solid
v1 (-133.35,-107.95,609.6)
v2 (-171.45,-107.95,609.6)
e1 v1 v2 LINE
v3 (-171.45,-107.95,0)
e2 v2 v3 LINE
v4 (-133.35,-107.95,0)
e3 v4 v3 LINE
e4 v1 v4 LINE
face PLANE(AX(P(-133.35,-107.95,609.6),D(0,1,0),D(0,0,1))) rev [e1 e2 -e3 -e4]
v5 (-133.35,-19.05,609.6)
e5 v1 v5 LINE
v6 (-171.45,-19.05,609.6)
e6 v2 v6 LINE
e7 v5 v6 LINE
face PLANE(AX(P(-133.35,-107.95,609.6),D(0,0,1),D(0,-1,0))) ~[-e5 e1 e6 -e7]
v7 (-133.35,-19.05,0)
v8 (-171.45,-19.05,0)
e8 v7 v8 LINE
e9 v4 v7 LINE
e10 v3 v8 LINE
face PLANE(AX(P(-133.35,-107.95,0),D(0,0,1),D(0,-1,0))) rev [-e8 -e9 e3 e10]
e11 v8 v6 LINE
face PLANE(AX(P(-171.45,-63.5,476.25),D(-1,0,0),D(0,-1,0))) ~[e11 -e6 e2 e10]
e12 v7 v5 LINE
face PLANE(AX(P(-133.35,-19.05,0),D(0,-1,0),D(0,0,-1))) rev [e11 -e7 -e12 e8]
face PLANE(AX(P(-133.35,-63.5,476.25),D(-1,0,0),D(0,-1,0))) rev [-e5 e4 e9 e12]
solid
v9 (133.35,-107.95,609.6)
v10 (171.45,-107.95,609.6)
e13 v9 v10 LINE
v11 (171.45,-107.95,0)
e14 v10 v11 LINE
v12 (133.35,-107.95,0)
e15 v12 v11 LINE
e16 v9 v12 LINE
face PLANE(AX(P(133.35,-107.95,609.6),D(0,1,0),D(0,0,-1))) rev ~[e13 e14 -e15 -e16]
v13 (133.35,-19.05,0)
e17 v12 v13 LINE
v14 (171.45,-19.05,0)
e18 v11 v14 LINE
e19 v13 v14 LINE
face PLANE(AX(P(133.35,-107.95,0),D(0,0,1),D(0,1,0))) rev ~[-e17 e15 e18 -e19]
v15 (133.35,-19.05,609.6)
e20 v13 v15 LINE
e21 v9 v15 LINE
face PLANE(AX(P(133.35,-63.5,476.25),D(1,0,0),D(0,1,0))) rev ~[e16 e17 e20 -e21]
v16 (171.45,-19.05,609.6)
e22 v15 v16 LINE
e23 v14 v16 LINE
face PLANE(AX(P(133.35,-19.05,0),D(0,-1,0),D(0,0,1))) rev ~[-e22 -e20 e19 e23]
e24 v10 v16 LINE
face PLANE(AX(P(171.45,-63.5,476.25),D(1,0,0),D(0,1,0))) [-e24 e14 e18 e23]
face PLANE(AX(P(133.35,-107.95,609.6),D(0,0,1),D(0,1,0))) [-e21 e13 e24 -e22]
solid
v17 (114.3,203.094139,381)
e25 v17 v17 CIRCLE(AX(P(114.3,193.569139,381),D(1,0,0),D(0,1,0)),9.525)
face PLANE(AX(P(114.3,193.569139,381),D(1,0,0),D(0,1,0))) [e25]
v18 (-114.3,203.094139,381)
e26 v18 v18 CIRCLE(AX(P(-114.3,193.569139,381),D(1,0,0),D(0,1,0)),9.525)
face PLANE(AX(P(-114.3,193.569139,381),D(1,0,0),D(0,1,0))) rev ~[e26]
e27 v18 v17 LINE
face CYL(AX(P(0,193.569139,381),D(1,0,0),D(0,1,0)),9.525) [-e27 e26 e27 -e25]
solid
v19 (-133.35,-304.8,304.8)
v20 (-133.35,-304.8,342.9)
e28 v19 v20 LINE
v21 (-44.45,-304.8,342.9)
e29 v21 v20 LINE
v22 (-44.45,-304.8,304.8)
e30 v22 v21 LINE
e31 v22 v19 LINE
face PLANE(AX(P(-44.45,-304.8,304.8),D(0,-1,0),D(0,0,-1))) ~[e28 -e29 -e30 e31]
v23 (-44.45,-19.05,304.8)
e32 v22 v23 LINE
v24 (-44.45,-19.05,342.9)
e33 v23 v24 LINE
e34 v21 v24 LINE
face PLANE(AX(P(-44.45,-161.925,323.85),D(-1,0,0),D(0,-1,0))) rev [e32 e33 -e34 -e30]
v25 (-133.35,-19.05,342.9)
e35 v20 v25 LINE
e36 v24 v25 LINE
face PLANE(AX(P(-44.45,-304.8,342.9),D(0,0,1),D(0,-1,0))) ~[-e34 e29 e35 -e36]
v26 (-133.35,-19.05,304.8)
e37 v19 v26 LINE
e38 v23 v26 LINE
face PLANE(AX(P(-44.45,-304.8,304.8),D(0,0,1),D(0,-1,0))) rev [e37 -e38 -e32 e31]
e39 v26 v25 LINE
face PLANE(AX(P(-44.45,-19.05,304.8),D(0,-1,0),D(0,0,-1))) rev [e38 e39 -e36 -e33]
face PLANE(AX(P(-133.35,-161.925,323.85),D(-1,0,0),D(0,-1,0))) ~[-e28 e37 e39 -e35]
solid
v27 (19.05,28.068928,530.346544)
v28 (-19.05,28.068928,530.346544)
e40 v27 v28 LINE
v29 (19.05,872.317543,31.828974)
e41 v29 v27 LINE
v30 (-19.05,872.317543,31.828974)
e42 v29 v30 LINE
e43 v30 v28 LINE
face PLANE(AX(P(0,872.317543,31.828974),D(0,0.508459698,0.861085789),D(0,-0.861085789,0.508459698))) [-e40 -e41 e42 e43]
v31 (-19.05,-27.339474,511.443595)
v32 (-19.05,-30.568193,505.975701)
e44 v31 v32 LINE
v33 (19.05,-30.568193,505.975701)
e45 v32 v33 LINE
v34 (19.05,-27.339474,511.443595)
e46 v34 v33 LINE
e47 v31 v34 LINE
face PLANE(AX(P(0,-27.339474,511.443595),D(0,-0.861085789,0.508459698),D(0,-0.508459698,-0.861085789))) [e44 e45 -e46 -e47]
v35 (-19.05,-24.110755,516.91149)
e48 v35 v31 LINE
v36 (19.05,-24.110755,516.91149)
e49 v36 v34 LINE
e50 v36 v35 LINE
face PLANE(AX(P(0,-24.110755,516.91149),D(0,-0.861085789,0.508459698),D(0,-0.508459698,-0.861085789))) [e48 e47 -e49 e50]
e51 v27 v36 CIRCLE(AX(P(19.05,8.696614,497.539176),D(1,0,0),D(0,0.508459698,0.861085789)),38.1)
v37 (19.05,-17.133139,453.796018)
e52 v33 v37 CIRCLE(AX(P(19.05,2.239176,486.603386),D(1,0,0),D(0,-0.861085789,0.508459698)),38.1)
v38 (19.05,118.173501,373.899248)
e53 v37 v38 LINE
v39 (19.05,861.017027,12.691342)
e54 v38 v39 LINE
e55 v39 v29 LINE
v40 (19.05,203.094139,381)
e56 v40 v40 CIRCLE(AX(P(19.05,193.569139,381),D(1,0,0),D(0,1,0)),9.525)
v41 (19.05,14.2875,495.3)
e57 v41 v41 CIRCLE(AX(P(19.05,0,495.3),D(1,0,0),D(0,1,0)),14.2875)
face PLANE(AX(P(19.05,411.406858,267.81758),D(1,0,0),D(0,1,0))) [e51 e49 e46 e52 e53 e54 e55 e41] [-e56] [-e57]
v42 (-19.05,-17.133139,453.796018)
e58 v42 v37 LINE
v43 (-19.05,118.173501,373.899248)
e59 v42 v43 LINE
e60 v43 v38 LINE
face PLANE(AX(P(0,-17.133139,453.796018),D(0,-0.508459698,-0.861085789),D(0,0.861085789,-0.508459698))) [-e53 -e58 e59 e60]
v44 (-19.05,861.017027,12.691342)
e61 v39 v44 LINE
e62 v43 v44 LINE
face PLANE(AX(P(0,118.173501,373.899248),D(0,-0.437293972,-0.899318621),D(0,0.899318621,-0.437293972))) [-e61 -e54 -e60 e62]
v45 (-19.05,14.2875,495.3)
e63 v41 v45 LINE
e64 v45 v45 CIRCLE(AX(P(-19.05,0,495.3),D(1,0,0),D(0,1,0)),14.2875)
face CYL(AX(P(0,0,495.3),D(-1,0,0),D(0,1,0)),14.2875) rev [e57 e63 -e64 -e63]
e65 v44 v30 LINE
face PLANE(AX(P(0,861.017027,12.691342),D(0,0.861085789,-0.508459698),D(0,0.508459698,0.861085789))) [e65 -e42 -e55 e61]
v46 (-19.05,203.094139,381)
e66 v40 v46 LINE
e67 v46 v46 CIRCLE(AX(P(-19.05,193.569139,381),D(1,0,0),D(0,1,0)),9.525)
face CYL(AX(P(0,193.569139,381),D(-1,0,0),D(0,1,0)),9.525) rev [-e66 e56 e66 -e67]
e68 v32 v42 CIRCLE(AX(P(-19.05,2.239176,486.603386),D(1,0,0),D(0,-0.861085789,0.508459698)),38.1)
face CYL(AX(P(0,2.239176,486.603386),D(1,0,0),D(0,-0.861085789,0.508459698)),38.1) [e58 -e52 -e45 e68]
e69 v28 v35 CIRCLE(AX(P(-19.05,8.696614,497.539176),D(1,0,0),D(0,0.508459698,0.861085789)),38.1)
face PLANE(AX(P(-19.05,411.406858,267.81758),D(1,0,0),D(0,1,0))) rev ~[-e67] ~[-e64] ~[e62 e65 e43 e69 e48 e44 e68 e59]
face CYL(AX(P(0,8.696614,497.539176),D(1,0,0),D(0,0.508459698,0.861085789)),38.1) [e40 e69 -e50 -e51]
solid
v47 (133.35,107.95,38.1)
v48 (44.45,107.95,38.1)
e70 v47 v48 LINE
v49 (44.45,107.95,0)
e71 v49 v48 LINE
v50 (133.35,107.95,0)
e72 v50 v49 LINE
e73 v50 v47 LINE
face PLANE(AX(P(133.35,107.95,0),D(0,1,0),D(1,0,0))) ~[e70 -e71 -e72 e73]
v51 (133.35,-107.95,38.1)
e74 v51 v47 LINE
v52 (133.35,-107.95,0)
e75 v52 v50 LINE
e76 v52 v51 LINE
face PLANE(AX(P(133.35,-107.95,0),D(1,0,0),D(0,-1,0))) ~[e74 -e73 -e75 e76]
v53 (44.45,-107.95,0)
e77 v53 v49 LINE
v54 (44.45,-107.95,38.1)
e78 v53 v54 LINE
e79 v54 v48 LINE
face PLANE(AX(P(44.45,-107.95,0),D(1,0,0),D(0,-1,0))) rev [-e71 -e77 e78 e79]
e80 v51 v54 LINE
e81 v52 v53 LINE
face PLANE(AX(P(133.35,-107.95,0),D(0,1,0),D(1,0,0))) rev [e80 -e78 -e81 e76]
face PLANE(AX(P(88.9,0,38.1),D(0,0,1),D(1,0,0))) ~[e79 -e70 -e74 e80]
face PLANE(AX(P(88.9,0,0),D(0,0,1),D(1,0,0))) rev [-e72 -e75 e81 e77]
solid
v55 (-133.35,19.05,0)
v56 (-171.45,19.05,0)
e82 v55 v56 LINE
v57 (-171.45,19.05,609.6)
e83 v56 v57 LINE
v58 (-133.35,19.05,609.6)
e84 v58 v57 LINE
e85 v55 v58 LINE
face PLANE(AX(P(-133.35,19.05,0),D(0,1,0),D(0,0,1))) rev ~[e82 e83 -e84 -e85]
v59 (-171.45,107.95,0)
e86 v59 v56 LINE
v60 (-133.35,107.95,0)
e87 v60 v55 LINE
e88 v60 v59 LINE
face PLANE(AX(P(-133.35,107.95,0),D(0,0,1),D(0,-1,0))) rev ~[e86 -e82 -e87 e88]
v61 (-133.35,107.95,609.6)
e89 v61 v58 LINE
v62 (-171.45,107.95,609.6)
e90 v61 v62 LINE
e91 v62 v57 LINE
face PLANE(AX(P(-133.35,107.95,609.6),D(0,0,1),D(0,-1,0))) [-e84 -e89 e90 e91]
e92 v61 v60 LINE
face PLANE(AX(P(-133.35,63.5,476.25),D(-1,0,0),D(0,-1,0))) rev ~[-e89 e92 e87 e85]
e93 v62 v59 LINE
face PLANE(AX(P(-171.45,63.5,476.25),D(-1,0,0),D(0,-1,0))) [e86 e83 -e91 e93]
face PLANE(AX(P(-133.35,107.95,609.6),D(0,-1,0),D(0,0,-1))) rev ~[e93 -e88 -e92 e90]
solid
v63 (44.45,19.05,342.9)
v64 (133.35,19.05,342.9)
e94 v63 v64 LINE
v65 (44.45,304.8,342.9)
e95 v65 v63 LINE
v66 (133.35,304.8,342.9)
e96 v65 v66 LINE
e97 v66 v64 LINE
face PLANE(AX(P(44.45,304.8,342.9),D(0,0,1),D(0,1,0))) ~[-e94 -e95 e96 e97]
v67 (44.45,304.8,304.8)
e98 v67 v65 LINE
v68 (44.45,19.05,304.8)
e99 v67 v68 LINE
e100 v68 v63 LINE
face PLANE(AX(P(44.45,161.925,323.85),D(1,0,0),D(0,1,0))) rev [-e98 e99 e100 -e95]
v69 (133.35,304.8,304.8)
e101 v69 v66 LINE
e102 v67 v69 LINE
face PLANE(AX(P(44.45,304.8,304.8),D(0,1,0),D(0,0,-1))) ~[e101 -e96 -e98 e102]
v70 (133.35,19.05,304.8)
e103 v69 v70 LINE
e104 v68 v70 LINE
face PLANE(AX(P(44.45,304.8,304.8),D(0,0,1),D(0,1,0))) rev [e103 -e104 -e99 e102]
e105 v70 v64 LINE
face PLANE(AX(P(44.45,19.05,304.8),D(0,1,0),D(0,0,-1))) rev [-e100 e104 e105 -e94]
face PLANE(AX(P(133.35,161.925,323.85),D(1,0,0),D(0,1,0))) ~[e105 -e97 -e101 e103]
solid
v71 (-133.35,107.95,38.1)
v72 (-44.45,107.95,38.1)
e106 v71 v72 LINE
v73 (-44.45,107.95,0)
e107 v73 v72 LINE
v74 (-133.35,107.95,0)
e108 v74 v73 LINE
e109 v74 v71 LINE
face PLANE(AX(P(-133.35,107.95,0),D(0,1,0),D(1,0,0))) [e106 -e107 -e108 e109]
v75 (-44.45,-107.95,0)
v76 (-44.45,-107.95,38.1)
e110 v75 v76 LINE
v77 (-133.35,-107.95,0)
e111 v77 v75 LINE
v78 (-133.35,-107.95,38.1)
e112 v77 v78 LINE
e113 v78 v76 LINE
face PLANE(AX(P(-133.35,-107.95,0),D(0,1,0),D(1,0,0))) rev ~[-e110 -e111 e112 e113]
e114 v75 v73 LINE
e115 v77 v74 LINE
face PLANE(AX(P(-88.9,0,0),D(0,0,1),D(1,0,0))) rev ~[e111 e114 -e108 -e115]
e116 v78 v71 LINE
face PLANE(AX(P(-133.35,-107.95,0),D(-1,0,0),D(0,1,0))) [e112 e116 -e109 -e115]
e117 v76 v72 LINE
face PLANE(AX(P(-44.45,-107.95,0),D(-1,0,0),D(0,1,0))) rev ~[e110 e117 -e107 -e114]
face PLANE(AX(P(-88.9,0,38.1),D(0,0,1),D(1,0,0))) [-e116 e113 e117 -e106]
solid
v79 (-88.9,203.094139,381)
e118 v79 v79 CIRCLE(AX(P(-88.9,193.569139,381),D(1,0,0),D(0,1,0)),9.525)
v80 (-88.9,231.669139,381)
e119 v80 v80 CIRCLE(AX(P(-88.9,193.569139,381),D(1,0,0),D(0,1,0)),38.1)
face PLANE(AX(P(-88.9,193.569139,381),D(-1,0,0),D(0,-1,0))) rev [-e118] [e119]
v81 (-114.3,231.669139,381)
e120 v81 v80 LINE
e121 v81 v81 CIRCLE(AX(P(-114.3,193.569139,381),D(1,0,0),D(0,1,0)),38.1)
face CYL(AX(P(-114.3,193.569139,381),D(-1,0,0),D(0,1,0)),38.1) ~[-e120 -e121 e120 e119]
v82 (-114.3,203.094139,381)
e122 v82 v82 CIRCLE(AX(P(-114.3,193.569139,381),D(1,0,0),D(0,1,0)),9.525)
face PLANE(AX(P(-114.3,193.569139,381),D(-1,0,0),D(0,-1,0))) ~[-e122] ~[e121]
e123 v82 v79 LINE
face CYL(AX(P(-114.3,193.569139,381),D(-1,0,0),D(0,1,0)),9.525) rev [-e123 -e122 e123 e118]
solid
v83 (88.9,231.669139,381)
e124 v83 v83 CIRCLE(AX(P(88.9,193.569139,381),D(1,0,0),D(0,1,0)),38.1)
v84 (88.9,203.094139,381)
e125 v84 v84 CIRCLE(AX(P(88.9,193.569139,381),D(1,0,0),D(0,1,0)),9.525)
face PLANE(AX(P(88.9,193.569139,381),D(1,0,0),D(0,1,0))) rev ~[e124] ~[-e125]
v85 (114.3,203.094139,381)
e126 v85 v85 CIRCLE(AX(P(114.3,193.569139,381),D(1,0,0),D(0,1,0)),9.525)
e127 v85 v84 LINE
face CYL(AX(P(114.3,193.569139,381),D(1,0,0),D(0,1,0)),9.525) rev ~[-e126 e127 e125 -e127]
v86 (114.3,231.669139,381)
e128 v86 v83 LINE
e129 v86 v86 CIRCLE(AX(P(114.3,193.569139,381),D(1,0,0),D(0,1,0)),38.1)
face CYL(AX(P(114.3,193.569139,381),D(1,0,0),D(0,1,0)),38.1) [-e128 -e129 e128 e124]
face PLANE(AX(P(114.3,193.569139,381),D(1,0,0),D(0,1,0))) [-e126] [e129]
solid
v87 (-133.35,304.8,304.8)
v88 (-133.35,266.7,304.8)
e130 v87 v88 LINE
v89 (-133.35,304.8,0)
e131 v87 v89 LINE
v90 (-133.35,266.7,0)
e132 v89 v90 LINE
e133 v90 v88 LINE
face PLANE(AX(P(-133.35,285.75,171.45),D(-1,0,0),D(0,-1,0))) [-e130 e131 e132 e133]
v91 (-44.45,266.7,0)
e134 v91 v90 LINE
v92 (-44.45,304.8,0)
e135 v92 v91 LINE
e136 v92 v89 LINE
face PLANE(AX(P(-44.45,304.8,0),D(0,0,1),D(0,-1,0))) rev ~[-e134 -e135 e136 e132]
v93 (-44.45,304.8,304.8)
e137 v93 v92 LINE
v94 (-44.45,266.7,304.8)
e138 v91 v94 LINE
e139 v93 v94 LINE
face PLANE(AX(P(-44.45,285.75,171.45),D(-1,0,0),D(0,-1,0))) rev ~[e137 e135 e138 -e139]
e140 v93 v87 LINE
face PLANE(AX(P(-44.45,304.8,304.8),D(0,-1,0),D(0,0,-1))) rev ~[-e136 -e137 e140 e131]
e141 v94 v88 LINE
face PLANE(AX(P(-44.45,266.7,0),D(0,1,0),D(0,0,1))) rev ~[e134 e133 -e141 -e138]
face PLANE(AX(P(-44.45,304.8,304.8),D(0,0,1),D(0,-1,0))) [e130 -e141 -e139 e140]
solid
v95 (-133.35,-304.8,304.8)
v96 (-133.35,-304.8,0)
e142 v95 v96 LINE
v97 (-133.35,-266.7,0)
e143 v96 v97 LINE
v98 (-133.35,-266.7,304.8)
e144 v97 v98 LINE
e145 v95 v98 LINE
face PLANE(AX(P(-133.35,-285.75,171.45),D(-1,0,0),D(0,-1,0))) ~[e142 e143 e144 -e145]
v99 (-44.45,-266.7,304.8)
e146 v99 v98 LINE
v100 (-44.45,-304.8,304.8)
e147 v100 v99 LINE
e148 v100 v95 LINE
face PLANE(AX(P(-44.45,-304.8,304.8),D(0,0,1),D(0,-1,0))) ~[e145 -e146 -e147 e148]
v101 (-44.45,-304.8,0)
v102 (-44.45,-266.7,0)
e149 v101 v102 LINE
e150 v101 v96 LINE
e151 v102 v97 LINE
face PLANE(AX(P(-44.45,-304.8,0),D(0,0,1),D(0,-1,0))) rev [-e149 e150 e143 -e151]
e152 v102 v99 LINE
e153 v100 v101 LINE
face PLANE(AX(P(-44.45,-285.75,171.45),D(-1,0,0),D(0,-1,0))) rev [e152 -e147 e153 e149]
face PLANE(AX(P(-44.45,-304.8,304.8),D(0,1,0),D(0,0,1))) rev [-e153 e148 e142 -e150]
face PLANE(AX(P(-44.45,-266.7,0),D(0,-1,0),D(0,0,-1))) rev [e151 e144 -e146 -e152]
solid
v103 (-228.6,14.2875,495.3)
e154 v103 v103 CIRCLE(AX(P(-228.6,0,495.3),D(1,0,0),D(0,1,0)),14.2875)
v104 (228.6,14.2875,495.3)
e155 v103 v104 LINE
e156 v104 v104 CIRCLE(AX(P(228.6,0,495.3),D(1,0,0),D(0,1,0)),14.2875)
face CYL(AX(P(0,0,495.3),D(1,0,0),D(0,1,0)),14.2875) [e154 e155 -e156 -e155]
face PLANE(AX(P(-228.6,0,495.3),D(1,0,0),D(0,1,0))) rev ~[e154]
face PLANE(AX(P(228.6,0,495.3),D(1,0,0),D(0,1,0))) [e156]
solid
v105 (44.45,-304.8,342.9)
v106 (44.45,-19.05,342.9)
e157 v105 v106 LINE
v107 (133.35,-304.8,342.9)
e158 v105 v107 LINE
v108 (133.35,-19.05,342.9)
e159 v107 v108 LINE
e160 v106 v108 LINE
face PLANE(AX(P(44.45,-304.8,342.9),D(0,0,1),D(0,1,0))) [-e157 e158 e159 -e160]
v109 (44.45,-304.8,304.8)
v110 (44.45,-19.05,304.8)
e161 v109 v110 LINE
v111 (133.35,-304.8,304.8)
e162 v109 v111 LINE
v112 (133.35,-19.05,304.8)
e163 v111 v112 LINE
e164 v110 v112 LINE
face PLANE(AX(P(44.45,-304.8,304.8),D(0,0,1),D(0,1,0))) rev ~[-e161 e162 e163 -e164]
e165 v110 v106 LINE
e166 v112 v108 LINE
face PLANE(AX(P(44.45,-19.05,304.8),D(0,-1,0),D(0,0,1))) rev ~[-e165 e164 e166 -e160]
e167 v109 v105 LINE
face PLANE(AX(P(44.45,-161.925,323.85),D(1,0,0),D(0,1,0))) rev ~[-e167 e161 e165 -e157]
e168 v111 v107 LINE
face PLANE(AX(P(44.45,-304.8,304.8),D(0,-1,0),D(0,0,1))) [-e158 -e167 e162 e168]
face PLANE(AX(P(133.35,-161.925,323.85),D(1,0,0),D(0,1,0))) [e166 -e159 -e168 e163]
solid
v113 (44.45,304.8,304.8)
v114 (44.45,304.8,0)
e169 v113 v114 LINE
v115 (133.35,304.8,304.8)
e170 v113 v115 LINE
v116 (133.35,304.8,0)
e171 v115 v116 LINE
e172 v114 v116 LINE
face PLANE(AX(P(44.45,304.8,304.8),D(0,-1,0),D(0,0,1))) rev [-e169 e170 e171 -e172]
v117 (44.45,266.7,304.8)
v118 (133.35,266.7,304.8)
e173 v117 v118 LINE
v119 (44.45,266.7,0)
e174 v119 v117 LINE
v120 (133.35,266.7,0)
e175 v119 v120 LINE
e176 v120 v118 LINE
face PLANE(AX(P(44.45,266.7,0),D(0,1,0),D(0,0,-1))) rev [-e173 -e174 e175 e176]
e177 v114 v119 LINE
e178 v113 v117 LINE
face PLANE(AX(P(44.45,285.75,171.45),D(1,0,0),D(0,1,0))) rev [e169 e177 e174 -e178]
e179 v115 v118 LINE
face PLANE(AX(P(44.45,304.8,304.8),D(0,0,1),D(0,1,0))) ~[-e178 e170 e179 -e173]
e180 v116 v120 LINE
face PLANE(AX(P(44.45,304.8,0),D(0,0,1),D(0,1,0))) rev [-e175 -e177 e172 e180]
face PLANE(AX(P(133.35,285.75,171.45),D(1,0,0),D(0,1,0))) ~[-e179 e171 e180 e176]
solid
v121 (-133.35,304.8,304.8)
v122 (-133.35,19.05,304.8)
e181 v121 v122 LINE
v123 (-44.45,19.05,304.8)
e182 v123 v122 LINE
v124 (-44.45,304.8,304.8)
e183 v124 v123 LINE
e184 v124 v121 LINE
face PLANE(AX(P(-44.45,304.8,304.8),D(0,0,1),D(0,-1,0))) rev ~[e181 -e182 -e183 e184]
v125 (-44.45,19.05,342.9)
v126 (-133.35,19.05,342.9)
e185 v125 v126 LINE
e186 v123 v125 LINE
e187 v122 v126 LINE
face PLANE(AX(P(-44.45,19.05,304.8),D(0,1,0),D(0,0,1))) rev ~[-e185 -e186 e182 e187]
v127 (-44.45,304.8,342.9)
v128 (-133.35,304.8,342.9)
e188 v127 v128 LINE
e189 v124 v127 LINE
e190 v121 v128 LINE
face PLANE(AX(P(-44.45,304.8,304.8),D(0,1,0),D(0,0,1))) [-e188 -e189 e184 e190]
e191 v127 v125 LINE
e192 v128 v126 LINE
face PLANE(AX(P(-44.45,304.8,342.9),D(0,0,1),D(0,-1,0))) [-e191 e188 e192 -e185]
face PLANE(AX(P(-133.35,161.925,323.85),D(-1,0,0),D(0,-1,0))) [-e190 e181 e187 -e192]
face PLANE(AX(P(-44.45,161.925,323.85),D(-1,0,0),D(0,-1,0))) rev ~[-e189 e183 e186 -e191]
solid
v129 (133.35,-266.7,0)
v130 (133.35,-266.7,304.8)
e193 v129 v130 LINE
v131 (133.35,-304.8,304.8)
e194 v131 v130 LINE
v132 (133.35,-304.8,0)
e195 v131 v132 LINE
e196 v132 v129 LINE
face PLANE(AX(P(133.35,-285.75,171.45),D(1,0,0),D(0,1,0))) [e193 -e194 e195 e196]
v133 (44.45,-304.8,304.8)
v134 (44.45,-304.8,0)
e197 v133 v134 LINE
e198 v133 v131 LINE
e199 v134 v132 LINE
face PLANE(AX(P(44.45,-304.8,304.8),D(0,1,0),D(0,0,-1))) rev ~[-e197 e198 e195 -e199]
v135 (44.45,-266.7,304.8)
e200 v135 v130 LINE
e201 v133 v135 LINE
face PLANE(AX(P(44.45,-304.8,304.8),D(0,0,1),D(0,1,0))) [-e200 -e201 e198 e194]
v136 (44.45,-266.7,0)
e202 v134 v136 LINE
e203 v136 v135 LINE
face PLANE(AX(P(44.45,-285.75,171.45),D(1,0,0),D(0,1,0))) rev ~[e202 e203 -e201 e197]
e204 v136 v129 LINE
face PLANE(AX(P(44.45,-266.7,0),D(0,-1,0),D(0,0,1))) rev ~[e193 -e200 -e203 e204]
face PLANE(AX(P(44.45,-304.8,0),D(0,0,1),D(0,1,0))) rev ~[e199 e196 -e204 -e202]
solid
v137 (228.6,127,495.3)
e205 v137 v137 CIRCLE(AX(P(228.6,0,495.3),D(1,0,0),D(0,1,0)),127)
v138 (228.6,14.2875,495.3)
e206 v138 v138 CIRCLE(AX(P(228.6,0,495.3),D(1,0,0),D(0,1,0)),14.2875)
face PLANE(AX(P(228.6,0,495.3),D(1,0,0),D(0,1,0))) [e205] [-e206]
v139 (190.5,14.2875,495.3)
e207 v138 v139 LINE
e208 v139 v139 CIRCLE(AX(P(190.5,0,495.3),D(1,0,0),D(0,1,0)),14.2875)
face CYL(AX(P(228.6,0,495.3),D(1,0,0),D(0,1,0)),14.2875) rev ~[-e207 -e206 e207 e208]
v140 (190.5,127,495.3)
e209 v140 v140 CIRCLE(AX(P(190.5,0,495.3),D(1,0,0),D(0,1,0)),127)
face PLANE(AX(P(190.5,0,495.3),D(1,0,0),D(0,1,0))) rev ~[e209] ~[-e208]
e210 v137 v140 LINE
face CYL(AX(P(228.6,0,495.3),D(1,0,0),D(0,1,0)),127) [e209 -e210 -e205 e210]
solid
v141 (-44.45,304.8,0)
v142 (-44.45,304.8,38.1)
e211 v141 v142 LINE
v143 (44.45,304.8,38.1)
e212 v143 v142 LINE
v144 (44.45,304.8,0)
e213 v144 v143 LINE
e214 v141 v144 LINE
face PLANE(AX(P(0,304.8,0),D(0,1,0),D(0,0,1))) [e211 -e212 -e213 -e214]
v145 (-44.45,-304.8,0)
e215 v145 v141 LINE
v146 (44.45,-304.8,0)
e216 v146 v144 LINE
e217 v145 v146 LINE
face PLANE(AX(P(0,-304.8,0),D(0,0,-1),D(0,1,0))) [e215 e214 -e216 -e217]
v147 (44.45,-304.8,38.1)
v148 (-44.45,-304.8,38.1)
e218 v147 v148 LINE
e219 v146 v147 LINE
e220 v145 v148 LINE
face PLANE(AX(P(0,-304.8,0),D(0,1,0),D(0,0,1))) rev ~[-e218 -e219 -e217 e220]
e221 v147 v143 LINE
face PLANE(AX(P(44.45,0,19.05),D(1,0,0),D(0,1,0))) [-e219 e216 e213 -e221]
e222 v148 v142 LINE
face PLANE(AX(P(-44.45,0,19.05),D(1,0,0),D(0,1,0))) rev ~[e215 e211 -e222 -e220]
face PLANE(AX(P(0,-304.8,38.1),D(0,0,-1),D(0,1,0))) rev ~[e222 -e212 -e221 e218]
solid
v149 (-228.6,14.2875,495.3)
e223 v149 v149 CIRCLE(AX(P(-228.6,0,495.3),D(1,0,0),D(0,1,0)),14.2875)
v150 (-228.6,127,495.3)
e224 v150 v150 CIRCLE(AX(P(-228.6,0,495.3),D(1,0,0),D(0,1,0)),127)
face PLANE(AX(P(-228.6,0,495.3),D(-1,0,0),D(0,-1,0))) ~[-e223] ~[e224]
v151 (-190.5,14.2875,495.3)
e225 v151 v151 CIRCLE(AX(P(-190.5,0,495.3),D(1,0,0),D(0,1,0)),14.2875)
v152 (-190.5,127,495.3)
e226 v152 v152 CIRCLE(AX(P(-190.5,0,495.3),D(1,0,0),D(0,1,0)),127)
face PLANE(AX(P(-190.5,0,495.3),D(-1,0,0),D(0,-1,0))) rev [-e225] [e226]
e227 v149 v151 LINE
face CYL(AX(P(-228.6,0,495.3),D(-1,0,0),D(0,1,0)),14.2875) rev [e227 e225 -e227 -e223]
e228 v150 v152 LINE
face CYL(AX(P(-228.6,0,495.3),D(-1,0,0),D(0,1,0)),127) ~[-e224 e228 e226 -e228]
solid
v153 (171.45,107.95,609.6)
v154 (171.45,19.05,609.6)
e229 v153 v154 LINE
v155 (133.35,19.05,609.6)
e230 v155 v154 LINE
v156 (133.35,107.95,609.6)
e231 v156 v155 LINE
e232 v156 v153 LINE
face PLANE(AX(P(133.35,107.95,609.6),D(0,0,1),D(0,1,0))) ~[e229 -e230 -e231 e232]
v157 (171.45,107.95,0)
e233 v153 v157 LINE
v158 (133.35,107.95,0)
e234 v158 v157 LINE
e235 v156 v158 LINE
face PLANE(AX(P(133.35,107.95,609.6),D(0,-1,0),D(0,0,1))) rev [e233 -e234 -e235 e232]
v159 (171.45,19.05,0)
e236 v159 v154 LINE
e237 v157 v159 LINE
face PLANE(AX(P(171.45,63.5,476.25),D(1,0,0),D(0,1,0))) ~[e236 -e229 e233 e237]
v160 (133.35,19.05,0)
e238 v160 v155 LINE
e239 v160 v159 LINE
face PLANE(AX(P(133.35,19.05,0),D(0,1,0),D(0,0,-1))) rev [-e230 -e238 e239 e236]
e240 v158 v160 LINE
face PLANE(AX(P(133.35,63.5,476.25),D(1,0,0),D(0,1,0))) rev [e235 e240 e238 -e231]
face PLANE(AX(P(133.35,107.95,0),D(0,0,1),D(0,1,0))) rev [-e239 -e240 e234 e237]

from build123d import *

# Parameters (mm, degrees)
F0_W      = 609.6
F0_H      = 38.1
F1_DEPTH  = 44.45
F2_W      = 38.1
F2_H      = 266.7
F2_H_2    = 38.1
F3_DEPTH  = 88.9
F5_W      = 285.75
F5_H      = 38.1
F6_DEPTH  = 88.9
F9_W      = 88.9
F9_H      = 266.7
F9_H_2    = 38.1
F9_H_3    = 304.8
F10_DEPTH = 38.1
F13_W     = 88.9
F13_H     = 215.9
F14_DEPTH = 38.1
F16_R     = 14.2875
F17_DEPTH = 228.6
F18_R     = 127
F18_R_2   = 14.2875
F19_DEPTH = 38.1
F21_R     = 9.525
F22_DEPTH = 114.3
F23_R     = 38.1
F23_R_2   = 9.525
F24_DEPTH = 25.4
F26_R     = 9.525
F26_R_2   = 14.2875
F27_DEPTH = 19.05


with BuildPart() as f1:
    # F0 (on Right) → F1 (new body, symmetric)
    with BuildSketch(Plane.YZ):
        with Locations((0, 19.05)):
            Rectangle(F0_W, F0_H)
    extrude(amount=F1_DEPTH, both=True)


with BuildPart() as f3:
    # F2 (on face) → F3 (new body)
    with BuildSketch(Plane.YZ.offset(44.45)):
        with Locations((-285.75, 171.45)):
            Rectangle(F2_W, F2_H)
        with Locations((-285.75, 19.05)):
            Rectangle(F2_W, F2_H_2)
    extrude(amount=F3_DEPTH)


with BuildPart() as f4_1:
    # F4: instance of F3
    add(f3.part.mirror(Plane.YZ))


with BuildPart() as f6:
    # F5 (on face) → F6 (new body)
    with BuildSketch(Plane.YZ.offset(44.45)):
        with Locations((-161.925, 323.85)):
            Rectangle(F5_W, F5_H)
    extrude(amount=F6_DEPTH)


with BuildPart() as f7_1:
    # F7: instance of F6
    add(f6.part.mirror(Plane.YZ))


with BuildPart() as f8_1:
    # F8: instance of F3
    add(f3.part.mirror(Plane.XZ))


with BuildPart() as f8_2:
    # F8: instance of F6
    add(f6.part.mirror(Plane.XZ))


with BuildPart() as f8_3:
    # F8: instance of F7_1
    add(f7_1.part.mirror(Plane.XZ))


with BuildPart() as f8_4:
    # F8: instance of F4_1
    add(f4_1.part.mirror(Plane.XZ))


with BuildPart() as f10:
    # F9 (on face) → F10 (new body)
    with BuildSketch(Plane.YZ.offset(133.35)):
        with Locations((-63.5, 476.25)):
            Rectangle(F9_W, F9_H)
        with Locations((-63.5, 323.85)):
            Rectangle(F9_W, F9_H_2)
        with Locations((-63.5, 152.4)):
            Rectangle(F9_W, F9_H_3)
    extrude(amount=F10_DEPTH)


with BuildPart() as f11_1:
    # F11: instance of F10
    add(f10.part.mirror(Plane.YZ))


with BuildPart() as f12_1:
    # F12: instance of F10
    add(f10.part.mirror(Plane.XZ))


with BuildPart() as f12_2:
    # F12: instance of F11_1
    add(f11_1.part.mirror(Plane.XZ))


with BuildPart() as f14:
    # F13 (on Top) → F14 (new body)
    with BuildSketch(Plane.XY):
        with Locations((-88.9, 0)):
            Rectangle(F13_W, F13_H)
    extrude(amount=F14_DEPTH)


with BuildPart() as f15_1:
    # F15: instance of F14
    add(f14.part.mirror(Plane.YZ))


with BuildPart() as f17:
    # F16 (on Right) → F17 (new body, symmetric)
    with BuildSketch(Plane.YZ):
        with Locations((0, 495.3)):
            Circle(F16_R)
    extrude(amount=F17_DEPTH, both=True)


with BuildPart() as f19:
    # F18 (on face) → F19 (new body)
    with BuildSketch(Plane.YZ.offset(228.6)):
        with Locations((0, 495.3)):
            Circle(F18_R)
        with Locations((0, 495.3)):
            Circle(F18_R_2, mode=Mode.SUBTRACT)
    extrude(amount=-F19_DEPTH)


with BuildPart() as f20_1:
    # F20: instance of F19
    add(f19.part.mirror(Plane.YZ))


with BuildPart() as f22:
    # F21 (on Right) → F22 (new body, symmetric)
    with BuildSketch(Plane.YZ):
        with Locations((193.5691386461, 381)):
            Circle(F21_R)
    extrude(amount=F22_DEPTH, both=True)


with BuildPart() as f24:
    # F23 (on face) → F24 (new body)
    with BuildSketch(Plane.YZ.offset(114.3)):
        with Locations((193.5691386461, 381)):
            Circle(F23_R)
        with Locations((193.5691386461, 381)):
            Circle(F23_R_2, mode=Mode.SUBTRACT)
    extrude(amount=-F24_DEPTH)


with BuildPart() as f25_1:
    # F25: instance of F24
    add(f24.part.mirror(Plane.YZ))


with BuildPart() as f27:
    # F26 (on Right) → F27 (new body, symmetric)
    with BuildSketch(Plane.YZ):
        with BuildLine():
            Line((-24.1107547215, 516.9114901559), (-27.3394738007, 511.4435953958))
            Line((-27.3394738007, 511.4435953958), (-30.5681928798, 505.9757006357))
            ThreePointArc((-30.5681928798, 505.9757006357), (-34.6574320338, 477.103368311), (-17.133138794, 453.7960175999))
            Line((-17.133138794, 453.7960175999), (118.1735009264, 373.8992477521))
            Line((118.1735009264, 373.8992477521), (861.017026639, 12.6913421614))
            Line((861.017026639, 12.6913421614), (872.3175434161, 31.8289738219))
            Line((872.3175434161, 31.8289738219), (28.0689283142, 530.3465442418))
            ThreePointArc((28.0689283142, 530.3465442418), (-0.8034040104, 534.4357833957), (-24.1107547215, 516.9114901559))
        make_face()
        with Locations((193.5691386461, 381)):
            Circle(F26_R, mode=Mode.SUBTRACT)
        with Locations((0, 495.3)):
            Circle(F26_R_2, mode=Mode.SUBTRACT)
    extrude(amount=F27_DEPTH, both=True)


solid = Compound([f1.part, f3.part, f4_1.part, f6.part, f7_1.part, f8_1.part, f8_2.part, f8_3.part, f8_4.part, f10.part, f11_1.part, f12_1.part, f12_2.part, f14.part, f15_1.part, f17.part, f19.part, f20_1.part, f22.part, f24.part, f25_1.part, f27.part])
